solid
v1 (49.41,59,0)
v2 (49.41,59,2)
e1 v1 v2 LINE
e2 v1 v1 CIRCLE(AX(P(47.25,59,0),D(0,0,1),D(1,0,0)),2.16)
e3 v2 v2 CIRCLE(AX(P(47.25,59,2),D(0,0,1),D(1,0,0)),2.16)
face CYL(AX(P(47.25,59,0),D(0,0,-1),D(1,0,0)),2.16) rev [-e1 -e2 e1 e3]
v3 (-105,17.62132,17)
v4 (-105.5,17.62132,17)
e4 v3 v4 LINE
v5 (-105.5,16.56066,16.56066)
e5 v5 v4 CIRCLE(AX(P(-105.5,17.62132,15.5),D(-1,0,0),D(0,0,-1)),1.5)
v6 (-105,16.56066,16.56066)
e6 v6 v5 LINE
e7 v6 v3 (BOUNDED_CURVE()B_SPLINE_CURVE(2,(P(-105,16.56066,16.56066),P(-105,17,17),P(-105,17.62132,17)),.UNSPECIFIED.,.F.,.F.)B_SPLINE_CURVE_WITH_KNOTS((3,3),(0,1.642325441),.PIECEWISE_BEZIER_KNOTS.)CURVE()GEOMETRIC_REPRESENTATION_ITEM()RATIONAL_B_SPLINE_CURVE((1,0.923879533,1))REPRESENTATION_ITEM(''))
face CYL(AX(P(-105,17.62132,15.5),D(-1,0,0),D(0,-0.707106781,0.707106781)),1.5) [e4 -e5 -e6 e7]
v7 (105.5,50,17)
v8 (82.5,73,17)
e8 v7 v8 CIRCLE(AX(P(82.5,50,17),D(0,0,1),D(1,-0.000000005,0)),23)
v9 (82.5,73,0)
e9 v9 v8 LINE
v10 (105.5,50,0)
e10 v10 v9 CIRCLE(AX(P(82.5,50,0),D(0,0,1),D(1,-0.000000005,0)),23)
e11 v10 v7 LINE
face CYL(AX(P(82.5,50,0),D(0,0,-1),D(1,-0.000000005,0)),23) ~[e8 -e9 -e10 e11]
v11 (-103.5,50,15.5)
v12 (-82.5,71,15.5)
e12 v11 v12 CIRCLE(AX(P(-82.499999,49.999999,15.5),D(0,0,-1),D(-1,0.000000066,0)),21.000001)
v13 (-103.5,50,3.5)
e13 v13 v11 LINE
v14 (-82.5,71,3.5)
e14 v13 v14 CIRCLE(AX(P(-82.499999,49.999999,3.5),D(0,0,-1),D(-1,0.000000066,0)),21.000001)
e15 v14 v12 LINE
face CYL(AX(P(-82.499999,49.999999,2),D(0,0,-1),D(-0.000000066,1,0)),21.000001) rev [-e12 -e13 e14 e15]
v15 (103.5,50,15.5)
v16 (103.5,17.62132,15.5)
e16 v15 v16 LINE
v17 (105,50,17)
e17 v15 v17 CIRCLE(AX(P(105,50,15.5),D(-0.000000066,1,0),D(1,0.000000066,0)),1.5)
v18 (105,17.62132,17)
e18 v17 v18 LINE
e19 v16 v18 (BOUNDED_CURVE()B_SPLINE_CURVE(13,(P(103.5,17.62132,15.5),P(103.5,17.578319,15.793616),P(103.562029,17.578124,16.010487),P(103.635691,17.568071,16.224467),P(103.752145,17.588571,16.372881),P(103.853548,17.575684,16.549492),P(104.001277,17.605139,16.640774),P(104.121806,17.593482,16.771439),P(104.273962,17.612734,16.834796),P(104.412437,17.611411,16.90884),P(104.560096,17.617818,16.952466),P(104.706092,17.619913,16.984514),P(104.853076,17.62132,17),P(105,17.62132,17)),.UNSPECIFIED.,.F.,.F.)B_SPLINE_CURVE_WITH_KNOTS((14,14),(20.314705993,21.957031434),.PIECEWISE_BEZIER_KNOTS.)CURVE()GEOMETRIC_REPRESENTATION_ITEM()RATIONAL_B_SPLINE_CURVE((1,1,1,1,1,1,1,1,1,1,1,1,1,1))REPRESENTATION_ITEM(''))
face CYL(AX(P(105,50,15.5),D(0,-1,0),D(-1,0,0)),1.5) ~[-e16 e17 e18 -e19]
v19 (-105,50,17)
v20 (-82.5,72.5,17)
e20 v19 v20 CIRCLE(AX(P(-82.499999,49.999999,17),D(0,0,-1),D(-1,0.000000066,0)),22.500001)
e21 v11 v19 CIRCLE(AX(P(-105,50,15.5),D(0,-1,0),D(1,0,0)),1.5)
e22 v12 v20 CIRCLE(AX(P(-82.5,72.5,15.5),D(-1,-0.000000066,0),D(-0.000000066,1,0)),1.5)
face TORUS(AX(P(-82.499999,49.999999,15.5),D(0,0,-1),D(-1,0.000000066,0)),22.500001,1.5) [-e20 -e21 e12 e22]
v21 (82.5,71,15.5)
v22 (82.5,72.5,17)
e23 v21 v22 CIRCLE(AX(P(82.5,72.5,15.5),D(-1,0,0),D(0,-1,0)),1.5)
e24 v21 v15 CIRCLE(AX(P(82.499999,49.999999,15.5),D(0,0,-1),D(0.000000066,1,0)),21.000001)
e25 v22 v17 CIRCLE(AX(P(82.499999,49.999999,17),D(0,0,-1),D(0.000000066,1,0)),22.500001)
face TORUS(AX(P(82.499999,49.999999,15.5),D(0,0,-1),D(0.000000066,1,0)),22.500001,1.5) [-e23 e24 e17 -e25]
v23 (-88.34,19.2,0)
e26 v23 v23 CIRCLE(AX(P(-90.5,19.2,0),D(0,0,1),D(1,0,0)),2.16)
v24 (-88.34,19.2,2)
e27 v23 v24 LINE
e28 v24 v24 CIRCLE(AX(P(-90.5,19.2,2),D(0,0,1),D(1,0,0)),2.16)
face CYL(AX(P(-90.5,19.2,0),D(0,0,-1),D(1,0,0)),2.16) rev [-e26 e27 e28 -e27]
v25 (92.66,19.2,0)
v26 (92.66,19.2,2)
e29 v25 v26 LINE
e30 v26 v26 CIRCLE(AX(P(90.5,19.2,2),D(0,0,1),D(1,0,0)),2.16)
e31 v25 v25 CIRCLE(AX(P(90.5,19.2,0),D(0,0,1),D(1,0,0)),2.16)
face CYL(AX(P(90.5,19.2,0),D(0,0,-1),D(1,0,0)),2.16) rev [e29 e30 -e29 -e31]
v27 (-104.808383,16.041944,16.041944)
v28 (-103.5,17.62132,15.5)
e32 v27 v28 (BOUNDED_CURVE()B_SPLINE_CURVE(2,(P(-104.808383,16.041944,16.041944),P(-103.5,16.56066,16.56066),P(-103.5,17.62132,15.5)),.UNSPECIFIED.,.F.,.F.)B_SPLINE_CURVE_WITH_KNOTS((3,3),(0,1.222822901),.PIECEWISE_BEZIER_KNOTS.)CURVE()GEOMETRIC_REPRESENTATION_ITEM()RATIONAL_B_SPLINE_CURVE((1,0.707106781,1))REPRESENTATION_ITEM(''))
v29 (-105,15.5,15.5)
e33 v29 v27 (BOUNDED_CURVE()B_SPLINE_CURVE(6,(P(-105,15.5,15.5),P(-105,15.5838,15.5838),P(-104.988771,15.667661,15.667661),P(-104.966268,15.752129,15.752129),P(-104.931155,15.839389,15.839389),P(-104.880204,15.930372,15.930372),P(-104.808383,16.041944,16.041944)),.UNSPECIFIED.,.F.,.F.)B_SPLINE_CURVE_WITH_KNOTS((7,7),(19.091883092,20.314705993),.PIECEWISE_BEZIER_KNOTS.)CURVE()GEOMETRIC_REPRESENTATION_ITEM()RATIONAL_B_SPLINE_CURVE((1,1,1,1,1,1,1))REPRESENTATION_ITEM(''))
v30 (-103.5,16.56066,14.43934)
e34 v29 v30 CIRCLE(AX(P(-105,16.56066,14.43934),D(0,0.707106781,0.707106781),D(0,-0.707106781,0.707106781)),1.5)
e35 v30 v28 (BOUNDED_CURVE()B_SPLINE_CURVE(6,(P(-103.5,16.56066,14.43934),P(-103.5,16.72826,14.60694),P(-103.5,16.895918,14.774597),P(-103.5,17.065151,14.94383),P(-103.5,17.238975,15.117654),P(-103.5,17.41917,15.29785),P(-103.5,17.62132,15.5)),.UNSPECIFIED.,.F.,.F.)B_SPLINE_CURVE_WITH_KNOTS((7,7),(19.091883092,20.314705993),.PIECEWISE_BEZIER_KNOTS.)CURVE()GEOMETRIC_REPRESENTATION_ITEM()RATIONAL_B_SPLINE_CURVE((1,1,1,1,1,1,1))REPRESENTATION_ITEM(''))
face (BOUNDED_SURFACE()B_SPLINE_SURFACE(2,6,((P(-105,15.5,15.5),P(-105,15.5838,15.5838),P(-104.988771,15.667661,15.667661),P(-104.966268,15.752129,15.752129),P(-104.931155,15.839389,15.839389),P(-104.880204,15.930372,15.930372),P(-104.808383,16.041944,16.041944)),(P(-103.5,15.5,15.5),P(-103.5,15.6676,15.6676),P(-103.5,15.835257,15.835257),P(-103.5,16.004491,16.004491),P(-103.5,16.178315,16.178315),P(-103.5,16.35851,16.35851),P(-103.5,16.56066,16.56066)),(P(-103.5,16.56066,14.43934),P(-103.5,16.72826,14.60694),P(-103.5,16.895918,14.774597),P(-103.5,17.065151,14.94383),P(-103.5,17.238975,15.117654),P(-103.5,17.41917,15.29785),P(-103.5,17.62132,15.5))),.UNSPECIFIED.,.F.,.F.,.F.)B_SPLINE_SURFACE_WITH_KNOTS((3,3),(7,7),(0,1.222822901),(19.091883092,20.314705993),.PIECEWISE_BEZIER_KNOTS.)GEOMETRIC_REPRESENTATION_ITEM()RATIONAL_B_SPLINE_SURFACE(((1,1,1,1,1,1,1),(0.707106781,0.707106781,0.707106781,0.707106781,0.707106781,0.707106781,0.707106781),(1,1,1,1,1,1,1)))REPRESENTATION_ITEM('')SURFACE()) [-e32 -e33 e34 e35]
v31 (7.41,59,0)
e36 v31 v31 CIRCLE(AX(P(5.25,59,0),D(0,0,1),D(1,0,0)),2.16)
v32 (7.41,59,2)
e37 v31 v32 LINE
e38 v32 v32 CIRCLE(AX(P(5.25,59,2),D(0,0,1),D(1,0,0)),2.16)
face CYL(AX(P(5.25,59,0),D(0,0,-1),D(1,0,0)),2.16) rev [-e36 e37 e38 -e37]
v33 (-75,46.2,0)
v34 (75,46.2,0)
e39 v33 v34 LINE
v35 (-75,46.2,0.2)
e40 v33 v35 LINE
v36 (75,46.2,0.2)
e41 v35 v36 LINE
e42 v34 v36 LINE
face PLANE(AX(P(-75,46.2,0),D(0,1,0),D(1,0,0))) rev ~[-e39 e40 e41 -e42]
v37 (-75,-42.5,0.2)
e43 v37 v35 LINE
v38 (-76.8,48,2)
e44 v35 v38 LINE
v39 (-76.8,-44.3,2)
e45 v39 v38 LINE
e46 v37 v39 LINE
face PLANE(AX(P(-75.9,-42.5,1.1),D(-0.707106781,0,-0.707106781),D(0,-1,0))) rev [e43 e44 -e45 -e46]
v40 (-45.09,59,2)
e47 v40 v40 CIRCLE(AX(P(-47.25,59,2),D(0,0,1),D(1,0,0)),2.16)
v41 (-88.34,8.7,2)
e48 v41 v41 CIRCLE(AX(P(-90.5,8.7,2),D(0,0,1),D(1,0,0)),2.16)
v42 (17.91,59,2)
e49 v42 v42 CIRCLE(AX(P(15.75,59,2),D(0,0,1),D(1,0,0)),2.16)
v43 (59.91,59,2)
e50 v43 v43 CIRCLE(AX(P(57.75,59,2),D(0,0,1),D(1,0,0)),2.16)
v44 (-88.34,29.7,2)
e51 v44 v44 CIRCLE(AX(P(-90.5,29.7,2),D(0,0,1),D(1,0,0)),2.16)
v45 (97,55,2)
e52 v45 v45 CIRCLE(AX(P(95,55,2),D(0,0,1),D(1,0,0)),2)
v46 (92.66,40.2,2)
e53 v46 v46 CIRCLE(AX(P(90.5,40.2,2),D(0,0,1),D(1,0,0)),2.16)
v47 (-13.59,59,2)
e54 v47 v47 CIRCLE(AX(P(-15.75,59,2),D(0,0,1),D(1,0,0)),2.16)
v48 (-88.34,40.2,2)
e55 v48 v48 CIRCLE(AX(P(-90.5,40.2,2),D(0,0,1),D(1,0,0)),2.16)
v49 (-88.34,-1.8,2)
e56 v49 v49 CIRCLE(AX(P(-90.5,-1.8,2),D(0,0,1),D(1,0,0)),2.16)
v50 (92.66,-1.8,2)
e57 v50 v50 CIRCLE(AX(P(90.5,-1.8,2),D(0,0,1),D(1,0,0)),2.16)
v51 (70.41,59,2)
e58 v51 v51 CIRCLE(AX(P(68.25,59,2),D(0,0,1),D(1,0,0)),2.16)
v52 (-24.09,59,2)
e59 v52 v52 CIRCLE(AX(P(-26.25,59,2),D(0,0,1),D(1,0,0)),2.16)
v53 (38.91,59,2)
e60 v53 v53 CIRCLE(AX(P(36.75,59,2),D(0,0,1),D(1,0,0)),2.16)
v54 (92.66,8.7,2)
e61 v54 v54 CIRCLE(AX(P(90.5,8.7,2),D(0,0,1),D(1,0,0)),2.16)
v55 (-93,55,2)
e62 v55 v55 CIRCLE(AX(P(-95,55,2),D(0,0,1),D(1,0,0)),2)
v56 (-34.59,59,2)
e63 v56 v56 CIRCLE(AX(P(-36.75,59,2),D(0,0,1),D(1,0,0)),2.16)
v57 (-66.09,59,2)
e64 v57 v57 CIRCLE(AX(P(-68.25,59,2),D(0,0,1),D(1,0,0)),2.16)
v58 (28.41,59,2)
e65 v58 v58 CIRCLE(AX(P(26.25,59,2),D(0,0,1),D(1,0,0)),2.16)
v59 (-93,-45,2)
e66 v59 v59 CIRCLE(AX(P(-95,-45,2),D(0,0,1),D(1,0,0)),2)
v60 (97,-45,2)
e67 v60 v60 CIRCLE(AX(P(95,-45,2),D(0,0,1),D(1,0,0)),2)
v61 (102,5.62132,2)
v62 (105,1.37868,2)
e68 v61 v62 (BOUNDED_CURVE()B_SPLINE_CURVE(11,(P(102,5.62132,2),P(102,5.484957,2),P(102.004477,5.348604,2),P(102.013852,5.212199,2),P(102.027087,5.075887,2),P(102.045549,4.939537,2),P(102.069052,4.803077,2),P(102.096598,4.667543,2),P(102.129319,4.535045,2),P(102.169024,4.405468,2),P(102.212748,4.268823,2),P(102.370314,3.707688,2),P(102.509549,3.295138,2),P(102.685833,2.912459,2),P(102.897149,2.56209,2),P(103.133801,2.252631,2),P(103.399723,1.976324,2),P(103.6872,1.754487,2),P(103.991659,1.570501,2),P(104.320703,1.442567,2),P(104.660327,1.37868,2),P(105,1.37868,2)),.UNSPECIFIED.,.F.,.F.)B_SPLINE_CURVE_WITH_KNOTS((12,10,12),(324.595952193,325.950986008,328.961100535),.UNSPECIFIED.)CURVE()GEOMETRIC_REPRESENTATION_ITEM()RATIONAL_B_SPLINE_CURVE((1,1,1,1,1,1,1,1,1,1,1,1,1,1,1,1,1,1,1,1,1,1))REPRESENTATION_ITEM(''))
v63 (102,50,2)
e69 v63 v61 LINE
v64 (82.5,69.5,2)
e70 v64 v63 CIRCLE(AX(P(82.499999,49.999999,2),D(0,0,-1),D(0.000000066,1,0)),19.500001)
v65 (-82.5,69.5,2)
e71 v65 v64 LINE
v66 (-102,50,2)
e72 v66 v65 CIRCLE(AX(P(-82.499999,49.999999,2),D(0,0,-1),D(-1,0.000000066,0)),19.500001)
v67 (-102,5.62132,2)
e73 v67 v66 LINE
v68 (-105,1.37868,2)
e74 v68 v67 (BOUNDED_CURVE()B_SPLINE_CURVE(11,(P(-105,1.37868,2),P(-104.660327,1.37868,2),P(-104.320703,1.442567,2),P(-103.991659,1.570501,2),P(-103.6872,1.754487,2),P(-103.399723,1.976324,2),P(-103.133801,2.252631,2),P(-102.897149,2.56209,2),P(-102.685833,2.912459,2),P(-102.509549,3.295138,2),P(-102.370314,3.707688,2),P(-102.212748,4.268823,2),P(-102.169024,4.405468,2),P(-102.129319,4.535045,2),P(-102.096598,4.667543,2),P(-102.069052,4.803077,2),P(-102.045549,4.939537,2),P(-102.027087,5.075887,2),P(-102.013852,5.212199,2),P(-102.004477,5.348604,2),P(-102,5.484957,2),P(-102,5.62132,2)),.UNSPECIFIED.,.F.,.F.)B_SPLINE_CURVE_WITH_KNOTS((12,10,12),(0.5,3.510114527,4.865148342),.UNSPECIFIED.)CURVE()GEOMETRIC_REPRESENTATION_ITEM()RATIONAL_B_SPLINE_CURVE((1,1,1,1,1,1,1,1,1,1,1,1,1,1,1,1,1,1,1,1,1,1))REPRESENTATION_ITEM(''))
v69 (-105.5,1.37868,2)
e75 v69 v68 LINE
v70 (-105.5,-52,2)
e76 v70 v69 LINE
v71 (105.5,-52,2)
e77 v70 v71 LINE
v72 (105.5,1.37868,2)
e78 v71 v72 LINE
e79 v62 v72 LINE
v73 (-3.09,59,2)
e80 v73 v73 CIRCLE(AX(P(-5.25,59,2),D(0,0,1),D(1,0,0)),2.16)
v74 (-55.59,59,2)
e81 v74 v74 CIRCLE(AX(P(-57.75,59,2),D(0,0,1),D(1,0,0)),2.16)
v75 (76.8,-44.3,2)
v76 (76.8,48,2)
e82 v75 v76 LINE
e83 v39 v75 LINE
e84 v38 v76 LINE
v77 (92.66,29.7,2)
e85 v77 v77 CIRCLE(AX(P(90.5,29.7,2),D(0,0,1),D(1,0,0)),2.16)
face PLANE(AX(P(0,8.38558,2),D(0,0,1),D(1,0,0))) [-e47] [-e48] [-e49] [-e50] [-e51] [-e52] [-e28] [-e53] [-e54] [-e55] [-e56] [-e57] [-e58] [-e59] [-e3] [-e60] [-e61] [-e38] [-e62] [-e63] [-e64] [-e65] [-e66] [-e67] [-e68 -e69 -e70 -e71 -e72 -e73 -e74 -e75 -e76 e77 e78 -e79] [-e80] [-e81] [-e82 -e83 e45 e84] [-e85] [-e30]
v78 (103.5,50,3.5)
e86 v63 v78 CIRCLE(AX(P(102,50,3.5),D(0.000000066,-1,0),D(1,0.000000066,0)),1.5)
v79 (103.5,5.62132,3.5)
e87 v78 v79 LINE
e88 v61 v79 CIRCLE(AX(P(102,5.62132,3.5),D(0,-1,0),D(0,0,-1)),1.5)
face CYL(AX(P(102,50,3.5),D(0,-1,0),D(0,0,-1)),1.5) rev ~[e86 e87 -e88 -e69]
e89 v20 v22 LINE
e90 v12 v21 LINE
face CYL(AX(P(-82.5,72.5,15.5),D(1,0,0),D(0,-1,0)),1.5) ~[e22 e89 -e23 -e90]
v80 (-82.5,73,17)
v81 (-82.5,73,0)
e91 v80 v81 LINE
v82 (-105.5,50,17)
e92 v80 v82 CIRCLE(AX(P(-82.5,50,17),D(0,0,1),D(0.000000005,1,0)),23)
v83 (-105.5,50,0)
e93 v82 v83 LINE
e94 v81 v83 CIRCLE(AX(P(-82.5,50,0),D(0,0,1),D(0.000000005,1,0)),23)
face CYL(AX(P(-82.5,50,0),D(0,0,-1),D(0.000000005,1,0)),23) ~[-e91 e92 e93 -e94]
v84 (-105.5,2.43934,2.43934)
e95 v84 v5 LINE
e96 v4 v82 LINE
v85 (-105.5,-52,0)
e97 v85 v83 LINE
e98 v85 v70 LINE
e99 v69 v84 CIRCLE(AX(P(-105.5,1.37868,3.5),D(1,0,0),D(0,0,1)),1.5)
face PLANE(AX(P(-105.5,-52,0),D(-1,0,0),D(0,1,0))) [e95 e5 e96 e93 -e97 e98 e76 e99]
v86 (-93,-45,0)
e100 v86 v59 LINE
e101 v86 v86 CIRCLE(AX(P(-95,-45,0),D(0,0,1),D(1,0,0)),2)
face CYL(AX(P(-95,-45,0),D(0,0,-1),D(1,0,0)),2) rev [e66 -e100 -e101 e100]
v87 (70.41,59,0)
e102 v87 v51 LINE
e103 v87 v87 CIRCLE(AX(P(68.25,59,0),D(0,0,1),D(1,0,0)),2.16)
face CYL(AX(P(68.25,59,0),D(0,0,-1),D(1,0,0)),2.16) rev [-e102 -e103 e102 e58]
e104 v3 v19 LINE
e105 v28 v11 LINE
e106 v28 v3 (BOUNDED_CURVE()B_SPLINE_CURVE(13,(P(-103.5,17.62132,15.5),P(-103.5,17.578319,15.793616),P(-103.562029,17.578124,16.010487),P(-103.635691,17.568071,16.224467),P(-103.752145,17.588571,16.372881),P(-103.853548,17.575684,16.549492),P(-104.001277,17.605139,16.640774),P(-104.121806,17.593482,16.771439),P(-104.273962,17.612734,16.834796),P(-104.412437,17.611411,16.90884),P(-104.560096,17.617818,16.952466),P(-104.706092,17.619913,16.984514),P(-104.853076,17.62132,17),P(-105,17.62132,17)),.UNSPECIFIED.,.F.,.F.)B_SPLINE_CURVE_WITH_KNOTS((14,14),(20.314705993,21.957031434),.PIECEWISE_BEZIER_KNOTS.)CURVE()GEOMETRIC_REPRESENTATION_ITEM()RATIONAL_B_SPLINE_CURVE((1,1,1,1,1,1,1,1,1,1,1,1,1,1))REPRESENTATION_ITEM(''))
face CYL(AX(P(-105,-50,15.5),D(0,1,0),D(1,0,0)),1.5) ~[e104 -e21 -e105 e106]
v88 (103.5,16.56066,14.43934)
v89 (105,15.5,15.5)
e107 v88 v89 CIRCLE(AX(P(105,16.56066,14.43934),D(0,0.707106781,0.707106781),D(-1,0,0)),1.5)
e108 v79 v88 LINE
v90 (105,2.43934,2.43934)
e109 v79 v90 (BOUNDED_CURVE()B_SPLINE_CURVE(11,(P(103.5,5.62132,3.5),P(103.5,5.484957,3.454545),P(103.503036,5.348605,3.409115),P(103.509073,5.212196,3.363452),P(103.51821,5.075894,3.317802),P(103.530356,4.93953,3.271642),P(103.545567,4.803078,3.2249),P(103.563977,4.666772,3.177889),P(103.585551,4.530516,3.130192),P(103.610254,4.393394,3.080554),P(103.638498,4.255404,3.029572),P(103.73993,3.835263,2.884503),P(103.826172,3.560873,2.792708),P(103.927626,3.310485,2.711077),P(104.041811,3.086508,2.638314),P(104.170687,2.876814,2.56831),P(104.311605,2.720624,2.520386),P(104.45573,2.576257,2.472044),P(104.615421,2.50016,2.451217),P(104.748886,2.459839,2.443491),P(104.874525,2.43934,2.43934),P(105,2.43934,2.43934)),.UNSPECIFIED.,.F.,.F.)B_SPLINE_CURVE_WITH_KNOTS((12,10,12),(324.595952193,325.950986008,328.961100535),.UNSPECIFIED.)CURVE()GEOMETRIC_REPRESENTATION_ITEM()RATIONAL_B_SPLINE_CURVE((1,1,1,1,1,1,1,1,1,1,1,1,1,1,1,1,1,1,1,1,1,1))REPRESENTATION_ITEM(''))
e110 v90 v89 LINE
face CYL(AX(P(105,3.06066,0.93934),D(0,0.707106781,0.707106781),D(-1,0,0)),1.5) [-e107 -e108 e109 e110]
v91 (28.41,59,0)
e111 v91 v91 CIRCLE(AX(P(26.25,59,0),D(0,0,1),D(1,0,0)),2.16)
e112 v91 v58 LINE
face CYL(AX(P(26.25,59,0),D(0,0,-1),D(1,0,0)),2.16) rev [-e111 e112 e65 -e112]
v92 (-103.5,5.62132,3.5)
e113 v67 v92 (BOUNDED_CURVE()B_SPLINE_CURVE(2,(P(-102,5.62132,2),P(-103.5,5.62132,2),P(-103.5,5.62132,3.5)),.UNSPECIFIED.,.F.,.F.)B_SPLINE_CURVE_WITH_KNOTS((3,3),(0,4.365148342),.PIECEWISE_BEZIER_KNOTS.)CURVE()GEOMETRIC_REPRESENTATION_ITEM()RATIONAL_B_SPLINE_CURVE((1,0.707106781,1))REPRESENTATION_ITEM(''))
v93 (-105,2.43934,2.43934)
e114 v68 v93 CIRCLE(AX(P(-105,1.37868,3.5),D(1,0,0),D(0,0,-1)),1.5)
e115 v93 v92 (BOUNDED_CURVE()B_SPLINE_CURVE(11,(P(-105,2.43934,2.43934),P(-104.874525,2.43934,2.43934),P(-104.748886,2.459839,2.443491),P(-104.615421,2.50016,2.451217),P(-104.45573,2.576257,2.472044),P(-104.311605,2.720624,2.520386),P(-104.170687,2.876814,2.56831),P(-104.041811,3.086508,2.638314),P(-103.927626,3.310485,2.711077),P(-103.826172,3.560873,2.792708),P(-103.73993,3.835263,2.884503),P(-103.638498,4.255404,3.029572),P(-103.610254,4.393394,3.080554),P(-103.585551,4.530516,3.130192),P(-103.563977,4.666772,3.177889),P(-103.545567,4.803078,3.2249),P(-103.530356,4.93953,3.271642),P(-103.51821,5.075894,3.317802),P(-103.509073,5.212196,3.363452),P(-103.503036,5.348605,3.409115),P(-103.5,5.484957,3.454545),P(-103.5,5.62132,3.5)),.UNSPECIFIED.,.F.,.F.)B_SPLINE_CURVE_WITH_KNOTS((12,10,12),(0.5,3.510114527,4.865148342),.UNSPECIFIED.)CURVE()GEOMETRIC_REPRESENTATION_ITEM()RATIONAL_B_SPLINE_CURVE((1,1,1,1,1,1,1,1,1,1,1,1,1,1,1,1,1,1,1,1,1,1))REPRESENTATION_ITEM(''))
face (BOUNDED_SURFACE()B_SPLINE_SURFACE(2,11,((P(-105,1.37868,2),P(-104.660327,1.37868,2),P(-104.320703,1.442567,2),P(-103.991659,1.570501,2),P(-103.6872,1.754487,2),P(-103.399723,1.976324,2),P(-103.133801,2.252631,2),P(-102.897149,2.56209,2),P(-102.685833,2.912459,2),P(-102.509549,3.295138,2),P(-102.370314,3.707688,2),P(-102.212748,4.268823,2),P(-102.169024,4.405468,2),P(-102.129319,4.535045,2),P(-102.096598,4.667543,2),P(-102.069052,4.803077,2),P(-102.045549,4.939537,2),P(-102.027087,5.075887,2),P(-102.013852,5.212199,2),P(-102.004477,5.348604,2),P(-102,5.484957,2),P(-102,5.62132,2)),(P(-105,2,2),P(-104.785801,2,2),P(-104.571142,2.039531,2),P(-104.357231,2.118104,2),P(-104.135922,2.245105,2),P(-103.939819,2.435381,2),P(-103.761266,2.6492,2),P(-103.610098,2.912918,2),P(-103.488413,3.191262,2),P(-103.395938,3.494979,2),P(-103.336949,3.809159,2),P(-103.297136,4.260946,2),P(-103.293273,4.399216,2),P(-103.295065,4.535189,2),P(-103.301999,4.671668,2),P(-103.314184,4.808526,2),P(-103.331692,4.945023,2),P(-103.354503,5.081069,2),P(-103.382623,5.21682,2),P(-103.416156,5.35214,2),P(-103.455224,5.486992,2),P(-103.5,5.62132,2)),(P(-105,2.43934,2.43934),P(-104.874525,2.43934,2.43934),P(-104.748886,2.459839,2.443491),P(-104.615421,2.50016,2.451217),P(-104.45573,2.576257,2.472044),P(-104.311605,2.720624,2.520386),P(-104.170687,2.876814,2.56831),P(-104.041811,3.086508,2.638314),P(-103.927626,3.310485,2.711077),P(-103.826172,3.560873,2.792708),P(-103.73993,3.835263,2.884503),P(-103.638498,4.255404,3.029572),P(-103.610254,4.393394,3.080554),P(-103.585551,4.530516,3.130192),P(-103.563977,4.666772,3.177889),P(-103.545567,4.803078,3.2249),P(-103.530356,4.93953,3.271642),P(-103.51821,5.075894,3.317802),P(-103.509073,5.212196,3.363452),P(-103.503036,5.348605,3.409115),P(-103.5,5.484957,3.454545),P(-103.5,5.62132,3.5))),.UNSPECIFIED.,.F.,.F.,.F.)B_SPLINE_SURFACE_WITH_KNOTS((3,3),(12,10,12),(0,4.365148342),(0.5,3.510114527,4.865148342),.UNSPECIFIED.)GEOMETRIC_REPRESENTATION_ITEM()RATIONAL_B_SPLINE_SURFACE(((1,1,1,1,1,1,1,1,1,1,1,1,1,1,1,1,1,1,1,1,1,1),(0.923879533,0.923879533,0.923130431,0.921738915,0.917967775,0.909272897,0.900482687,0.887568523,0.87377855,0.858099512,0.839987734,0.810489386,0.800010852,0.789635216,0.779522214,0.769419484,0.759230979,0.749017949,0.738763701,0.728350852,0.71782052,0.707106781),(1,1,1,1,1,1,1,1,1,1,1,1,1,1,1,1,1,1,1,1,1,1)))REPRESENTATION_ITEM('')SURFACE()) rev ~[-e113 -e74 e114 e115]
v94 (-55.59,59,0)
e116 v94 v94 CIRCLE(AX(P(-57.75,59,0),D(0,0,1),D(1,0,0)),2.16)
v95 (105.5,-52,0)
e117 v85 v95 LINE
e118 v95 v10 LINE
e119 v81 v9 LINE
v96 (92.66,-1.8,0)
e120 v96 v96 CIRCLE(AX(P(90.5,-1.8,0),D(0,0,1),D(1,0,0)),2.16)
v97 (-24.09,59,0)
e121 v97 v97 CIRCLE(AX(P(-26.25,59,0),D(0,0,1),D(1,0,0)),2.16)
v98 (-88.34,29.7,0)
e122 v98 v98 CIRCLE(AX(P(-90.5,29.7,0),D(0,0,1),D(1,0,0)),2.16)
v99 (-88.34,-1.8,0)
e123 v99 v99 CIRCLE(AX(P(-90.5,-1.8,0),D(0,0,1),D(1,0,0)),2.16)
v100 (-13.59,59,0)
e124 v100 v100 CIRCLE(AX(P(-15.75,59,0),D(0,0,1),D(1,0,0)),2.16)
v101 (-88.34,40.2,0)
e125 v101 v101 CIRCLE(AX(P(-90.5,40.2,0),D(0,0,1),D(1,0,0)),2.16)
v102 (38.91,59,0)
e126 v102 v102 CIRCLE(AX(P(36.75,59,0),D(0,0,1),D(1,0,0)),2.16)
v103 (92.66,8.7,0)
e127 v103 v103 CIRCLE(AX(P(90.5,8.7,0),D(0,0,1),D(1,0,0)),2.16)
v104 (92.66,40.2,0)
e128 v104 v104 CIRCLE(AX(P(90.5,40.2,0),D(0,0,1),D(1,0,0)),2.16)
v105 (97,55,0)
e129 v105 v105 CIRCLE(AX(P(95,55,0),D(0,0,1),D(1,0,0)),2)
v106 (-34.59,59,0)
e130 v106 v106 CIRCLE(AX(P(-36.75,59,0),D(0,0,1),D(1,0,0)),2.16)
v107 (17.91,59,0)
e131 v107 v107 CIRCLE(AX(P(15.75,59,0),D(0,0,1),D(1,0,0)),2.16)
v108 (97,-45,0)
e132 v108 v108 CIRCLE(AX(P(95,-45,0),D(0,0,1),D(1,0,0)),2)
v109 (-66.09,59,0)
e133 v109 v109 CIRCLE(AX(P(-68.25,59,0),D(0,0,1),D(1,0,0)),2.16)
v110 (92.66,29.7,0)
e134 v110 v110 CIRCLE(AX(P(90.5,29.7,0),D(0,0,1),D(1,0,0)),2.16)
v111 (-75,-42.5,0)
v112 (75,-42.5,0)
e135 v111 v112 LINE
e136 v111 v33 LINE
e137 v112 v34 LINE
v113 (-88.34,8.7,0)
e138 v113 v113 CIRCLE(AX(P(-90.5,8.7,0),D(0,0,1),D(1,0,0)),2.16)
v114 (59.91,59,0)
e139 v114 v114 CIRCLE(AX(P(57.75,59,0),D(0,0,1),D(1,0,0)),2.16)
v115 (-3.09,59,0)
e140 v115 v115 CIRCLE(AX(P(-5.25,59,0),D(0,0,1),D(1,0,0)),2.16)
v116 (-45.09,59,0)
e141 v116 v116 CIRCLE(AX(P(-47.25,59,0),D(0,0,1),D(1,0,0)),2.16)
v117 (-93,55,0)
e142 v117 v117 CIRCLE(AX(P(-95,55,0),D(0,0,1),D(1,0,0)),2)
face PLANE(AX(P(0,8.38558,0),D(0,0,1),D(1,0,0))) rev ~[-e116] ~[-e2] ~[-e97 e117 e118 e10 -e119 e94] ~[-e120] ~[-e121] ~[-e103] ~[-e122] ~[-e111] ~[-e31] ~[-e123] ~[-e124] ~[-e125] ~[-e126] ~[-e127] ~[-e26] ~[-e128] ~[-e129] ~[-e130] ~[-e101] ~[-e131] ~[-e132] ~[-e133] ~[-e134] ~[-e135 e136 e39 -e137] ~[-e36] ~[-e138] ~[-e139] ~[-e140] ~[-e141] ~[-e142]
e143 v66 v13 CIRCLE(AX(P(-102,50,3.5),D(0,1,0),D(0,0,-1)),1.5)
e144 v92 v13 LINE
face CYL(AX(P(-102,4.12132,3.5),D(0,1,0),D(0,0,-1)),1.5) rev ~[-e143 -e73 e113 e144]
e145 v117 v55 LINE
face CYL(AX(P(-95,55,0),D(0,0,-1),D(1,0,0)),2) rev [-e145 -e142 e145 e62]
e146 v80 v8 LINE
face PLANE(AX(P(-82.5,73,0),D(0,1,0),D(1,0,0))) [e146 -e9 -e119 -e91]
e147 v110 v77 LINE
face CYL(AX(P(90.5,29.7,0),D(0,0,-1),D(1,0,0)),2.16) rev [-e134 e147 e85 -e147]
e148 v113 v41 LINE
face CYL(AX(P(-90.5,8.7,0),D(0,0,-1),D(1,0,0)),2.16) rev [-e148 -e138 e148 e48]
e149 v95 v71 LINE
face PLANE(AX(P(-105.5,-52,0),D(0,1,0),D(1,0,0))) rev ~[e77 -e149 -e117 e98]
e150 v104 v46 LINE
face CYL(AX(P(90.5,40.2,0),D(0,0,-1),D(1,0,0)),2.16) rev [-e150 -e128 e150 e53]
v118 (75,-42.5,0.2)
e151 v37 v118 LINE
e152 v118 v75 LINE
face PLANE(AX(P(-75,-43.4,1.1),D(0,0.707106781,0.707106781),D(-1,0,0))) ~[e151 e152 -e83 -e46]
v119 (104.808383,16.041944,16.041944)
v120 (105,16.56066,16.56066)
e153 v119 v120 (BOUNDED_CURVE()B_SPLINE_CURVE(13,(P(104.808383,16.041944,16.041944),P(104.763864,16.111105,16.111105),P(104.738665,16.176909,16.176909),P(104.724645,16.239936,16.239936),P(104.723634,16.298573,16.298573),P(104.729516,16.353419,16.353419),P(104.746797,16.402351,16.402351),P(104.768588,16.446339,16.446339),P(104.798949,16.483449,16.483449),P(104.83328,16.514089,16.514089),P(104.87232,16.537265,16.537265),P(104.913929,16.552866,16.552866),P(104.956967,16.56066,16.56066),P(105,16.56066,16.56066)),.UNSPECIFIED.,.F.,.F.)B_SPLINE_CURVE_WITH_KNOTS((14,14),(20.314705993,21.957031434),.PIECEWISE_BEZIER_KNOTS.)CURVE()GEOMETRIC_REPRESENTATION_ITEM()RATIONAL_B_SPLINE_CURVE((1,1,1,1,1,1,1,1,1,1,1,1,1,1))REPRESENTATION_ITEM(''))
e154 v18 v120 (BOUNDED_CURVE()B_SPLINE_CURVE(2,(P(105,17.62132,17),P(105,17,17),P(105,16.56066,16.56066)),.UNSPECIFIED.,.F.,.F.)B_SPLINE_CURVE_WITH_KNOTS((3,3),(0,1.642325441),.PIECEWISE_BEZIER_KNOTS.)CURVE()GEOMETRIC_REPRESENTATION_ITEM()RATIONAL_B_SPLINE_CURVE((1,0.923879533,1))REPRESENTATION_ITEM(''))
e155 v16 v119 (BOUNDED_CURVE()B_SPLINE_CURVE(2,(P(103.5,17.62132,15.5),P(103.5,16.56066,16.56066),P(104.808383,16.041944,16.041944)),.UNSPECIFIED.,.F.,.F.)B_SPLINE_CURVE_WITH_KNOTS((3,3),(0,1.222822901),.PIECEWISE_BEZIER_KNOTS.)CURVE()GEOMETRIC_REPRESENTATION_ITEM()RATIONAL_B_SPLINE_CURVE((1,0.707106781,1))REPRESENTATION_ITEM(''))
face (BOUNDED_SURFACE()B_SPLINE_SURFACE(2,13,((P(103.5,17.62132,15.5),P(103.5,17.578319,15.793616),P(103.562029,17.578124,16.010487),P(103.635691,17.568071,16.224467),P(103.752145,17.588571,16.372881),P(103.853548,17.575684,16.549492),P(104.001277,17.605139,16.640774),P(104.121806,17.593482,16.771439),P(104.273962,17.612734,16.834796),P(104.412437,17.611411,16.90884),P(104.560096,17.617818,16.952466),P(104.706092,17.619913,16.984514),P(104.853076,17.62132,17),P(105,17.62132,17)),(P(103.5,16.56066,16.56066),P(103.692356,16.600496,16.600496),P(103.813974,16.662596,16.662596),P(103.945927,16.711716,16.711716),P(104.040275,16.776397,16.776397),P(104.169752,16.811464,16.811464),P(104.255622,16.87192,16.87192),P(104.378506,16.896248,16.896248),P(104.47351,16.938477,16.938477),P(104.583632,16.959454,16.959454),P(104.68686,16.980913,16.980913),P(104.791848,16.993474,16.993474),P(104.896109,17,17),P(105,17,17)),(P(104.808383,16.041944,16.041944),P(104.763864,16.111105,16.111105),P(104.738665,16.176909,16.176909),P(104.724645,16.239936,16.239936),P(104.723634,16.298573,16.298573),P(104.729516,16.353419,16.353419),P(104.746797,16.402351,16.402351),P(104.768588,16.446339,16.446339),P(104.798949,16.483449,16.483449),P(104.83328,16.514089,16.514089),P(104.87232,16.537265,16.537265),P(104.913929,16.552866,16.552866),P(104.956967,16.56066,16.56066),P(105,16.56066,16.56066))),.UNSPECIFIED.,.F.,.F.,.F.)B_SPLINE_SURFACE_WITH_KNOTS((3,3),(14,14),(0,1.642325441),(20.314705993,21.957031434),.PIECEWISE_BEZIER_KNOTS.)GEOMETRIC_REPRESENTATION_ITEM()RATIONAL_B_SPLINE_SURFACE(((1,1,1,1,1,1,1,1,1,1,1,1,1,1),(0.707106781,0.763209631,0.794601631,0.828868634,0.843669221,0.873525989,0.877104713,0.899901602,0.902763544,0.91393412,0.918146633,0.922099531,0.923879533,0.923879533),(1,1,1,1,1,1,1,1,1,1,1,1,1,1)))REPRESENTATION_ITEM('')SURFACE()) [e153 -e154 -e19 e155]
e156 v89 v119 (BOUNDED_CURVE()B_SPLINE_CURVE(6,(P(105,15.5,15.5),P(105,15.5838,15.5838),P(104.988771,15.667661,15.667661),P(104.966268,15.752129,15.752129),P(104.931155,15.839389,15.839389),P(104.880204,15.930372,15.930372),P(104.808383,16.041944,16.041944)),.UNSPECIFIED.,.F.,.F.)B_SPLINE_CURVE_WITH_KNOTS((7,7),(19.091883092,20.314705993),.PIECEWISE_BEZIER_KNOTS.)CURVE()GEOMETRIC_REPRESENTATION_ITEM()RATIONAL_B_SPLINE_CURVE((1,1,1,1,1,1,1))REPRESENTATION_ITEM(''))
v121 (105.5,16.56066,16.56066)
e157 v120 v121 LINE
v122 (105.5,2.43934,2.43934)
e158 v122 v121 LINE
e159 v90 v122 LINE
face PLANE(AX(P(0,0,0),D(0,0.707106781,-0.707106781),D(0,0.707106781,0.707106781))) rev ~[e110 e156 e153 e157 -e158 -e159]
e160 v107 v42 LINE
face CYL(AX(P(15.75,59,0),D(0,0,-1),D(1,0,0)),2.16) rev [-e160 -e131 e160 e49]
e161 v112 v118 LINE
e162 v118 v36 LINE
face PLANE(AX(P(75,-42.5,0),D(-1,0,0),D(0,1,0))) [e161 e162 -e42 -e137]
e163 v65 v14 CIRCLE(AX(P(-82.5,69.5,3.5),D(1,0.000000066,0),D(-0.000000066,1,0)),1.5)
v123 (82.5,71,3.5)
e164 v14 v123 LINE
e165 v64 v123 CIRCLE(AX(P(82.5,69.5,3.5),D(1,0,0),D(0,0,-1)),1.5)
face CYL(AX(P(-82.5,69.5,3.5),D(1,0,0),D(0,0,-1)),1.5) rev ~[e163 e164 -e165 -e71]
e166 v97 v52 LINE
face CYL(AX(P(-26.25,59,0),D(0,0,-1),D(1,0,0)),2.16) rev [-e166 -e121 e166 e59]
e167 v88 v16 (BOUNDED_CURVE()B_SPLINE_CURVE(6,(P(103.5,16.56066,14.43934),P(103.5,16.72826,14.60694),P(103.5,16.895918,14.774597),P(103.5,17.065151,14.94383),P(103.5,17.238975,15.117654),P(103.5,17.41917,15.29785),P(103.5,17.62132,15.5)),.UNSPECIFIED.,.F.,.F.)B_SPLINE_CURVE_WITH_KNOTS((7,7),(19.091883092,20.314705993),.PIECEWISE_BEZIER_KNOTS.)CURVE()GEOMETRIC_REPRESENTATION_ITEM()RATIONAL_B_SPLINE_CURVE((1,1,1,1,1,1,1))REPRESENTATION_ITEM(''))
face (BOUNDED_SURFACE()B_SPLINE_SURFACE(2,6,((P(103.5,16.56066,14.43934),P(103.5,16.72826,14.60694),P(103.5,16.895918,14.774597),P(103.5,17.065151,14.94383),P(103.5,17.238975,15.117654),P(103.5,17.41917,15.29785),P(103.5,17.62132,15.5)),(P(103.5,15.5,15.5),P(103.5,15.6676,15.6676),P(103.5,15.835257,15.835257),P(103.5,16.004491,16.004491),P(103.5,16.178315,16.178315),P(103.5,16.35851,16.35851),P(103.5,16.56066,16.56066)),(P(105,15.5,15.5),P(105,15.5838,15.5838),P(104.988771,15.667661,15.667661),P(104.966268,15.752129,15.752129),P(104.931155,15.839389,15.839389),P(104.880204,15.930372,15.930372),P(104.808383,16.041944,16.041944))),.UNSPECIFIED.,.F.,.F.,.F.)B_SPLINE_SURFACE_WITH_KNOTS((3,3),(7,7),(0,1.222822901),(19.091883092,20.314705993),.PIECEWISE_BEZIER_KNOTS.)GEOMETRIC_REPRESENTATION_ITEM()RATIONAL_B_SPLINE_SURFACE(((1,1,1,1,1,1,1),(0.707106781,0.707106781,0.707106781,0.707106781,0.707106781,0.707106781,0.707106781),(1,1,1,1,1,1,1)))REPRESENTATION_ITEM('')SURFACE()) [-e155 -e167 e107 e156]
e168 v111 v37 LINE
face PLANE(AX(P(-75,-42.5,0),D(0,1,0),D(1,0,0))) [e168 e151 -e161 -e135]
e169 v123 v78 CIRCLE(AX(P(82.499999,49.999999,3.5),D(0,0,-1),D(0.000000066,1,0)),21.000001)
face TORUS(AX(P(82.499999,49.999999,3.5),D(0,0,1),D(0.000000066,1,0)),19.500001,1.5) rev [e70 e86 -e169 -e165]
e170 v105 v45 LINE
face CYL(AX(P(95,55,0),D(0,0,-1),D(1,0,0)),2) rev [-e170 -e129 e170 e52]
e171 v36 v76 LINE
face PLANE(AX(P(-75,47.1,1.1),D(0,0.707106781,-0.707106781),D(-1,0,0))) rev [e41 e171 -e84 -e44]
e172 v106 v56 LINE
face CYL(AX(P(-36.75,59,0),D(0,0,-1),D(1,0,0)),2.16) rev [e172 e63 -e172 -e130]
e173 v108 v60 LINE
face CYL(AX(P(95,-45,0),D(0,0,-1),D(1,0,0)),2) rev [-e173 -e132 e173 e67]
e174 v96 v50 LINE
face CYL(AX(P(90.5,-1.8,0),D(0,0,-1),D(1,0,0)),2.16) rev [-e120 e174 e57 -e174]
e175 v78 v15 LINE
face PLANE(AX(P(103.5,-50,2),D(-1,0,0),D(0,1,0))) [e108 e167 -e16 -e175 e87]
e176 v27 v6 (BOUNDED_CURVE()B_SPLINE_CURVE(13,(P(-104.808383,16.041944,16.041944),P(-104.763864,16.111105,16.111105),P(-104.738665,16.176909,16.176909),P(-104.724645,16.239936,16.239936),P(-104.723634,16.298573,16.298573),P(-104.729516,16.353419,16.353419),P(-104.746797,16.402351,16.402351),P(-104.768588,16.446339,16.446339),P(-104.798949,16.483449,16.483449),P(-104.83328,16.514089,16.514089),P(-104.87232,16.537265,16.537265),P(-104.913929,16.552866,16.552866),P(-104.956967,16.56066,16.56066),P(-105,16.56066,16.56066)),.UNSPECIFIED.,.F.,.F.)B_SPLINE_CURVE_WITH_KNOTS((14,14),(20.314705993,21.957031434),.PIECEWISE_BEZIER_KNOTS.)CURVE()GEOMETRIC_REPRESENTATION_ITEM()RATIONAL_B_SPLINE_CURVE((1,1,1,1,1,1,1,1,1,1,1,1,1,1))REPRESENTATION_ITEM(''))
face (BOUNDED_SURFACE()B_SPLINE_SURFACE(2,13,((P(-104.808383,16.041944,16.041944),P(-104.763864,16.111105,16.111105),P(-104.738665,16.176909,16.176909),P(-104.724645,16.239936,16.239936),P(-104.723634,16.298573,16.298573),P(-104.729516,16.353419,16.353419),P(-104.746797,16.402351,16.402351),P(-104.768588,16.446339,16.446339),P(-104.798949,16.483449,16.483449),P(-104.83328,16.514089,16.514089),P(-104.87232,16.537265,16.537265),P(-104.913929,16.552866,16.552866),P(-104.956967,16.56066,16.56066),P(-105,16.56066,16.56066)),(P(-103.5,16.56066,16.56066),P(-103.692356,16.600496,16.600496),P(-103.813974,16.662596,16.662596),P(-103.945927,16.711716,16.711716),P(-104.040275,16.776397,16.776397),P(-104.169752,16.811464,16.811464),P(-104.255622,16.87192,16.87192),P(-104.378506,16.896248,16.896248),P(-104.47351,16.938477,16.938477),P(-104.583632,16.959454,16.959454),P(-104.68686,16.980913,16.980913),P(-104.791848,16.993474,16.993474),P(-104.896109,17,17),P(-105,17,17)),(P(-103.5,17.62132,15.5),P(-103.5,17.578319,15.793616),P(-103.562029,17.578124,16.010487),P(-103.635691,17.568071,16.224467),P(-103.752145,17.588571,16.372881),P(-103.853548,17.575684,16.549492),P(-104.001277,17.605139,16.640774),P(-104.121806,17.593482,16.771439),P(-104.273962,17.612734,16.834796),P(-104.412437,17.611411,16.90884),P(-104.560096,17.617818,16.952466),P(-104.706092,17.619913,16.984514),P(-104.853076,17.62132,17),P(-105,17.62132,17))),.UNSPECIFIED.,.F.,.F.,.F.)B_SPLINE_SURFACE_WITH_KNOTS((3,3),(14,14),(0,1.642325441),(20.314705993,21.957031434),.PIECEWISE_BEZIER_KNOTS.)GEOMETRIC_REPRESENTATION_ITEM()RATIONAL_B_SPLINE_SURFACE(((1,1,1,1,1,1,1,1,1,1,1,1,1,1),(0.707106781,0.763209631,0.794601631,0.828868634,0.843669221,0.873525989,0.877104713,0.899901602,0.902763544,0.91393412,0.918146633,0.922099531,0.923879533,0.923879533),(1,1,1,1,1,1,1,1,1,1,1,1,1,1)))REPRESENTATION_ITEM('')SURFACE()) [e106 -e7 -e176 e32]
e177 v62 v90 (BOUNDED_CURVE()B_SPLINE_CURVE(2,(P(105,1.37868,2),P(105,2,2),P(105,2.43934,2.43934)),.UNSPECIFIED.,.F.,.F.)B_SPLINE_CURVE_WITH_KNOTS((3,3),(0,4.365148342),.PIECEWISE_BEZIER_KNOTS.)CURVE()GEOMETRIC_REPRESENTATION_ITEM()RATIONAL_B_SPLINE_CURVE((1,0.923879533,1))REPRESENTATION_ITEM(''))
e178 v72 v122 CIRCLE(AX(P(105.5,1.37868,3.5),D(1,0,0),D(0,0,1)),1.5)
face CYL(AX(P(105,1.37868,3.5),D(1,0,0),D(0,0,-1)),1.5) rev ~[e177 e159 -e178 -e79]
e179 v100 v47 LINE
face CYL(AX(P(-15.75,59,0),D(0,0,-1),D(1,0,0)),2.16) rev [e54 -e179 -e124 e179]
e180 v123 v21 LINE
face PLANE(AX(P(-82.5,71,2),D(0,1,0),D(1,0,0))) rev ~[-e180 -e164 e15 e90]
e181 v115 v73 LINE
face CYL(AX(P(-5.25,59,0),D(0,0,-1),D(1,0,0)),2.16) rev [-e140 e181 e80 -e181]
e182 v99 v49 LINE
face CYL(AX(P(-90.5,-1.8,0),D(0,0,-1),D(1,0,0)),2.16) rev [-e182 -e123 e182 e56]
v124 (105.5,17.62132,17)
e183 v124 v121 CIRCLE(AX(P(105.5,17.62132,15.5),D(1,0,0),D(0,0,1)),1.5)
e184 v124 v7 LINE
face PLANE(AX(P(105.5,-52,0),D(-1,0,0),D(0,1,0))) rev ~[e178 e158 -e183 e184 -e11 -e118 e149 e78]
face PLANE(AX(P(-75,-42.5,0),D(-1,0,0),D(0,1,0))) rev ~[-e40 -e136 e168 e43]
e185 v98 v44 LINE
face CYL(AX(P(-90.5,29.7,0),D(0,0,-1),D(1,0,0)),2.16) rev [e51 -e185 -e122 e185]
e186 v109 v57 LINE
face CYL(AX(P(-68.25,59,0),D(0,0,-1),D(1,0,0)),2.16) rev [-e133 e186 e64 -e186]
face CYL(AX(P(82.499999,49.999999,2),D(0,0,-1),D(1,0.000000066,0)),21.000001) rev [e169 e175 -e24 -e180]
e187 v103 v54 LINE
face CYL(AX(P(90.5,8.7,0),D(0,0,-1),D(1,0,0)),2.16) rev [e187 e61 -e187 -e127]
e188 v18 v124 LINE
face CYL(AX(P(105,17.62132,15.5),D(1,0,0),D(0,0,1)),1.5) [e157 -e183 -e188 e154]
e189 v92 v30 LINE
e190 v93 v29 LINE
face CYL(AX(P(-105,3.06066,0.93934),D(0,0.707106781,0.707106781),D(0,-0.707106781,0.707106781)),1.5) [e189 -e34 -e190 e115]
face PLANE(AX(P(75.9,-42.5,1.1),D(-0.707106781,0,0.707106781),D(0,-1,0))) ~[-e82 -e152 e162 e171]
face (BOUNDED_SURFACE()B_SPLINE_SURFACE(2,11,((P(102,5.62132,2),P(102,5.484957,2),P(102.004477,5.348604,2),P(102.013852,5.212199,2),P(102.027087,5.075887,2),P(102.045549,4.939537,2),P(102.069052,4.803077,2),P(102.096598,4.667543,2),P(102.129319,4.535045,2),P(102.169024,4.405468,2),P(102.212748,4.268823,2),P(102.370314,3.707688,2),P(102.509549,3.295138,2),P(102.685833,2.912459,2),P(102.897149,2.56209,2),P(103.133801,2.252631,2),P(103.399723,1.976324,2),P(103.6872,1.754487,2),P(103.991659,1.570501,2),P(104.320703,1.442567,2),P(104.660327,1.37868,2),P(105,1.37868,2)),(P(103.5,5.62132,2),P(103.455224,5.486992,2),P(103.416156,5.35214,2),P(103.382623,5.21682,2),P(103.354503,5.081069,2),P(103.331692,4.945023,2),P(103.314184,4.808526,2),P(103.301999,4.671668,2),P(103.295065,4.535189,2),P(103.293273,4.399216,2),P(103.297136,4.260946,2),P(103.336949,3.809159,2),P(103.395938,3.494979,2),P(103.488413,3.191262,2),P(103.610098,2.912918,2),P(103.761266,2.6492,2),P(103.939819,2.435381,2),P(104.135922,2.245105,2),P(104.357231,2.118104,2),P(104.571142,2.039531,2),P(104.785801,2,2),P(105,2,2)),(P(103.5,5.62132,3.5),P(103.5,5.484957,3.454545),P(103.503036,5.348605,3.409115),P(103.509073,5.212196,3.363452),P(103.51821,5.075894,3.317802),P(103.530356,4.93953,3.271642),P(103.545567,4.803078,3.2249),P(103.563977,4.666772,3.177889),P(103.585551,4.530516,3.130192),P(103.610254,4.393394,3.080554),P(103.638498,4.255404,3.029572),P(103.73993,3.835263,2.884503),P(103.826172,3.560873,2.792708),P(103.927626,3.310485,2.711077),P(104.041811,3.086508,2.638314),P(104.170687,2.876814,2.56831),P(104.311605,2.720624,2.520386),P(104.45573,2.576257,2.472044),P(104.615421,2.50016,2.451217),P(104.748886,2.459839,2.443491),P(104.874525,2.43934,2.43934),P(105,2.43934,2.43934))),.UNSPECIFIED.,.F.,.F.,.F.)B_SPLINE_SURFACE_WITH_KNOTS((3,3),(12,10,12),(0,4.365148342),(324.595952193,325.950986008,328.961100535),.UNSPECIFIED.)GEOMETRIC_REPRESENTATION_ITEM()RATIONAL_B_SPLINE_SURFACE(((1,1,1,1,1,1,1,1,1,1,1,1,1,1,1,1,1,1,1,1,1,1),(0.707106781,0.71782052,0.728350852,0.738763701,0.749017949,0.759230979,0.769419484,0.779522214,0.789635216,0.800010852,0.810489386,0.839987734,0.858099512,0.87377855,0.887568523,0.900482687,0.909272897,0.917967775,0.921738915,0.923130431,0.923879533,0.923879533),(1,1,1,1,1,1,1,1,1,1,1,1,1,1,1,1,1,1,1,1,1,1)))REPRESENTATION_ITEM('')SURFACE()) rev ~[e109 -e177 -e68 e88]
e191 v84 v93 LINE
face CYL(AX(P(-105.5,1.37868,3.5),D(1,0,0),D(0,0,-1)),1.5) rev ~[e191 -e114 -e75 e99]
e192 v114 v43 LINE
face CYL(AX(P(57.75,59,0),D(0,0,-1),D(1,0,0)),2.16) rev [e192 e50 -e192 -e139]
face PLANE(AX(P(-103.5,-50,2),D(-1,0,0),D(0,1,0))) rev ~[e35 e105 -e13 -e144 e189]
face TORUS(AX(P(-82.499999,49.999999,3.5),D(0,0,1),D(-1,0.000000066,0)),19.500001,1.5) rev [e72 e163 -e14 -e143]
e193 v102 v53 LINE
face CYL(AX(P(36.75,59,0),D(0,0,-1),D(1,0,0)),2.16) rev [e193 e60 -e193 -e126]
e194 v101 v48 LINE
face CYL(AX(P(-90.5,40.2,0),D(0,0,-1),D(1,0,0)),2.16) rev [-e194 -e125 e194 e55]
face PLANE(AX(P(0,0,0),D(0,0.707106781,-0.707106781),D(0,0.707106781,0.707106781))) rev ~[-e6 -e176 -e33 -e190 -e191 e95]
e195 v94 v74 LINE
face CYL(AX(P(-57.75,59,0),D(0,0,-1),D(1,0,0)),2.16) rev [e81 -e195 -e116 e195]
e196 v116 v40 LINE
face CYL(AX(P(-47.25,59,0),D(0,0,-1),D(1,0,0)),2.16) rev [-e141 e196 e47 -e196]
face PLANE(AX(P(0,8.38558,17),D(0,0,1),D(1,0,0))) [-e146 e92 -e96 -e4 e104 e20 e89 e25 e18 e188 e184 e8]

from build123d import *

# Parameters (mm, degrees)
PAD001_DEPTH      = 15
FILLET_R          = 1.5
SKETCH002_R       = 2.16
SKETCH002_R_2     = 2
SKETCH002_W       = 150
SKETCH002_H       = 88.7
PAD_DEPTH         = 2
CHAMFER_SIZE      = 1.8
PAD002_DEPTH      = 150
PAD002_DEPTH_BACK = 150
FILLET001_R       = 1.5
FILLET002_R       = 1.5
FILLET003_R       = 1.5


with BuildPart() as hat:
    # Sketch003 → Pad001 (new body)
    with BuildSketch(Plane.XY):
        with BuildLine():
            Line((-105.5, -52), (105.5, -52))
            Line((105.5, -52), (105.5, 50))
            ThreePointArc((105.5, 50), (98.763456, 66.263456), (82.5, 73))
            Line((-82.5, 73), (82.5, 73))
            ThreePointArc((-82.5, 73), (-98.763456, 66.263456), (-105.5, 50))
            Line((-105.5, -52), (-105.5, 50))
        make_face()
        with BuildLine():
            Line((-103.5, -50), (103.5, -50))
            Line((103.5, -50), (103.5, 50))
            ThreePointArc((103.5, 50), (97.349242, 64.849242), (82.5, 71))
            Line((-82.5, 71), (82.5, 71))
            ThreePointArc((-82.5, 71), (-97.349242, 64.849242), (-103.5, 50))
            Line((-103.5, -50), (-103.5, 50))
        make_face(mode=Mode.SUBTRACT)
    extrude(amount=PAD001_DEPTH)

    # Fillet
    fillet_edges = [hat.edges().sort_by_distance(p)[0] for p in [
        (0, 71, 15),
    ]]
    fillet(fillet_edges, radius=FILLET_R)


with BuildPart() as hat_1:
    # Body001 placement: moved
    add(hat.part.moved(Location((0, 0, 2))))


with BuildPart() as front:
    # Sketch002 → Pad (new body)
    with BuildSketch(Plane.XY):
        with BuildLine():
            Line((-105.5, -52), (105.5, -52))
            Line((105.5, -52), (105.5, 50))
            ThreePointArc((105.5, 50), (98.763456, 66.263456), (82.5, 73))
            Line((-82.5, 73), (82.5, 73))
            ThreePointArc((-82.5, 73), (-98.763456, 66.263456), (-105.5, 50))
            Line((-105.5, -52), (-105.5, 50))
        make_face()
        with Locations((-90.5, 40.2)):
            Circle(SKETCH002_R, mode=Mode.SUBTRACT)
        with Locations((90.5, 40.2)):
            Circle(SKETCH002_R, mode=Mode.SUBTRACT)
        with Locations((-68.25, 59)):
            Circle(SKETCH002_R, mode=Mode.SUBTRACT)
        with Locations((-57.75, 59)):
            Circle(SKETCH002_R, mode=Mode.SUBTRACT)
        with Locations((-47.25, 59)):
            Circle(SKETCH002_R, mode=Mode.SUBTRACT)
        with Locations((-36.75, 59)):
            Circle(SKETCH002_R, mode=Mode.SUBTRACT)
        with Locations((-26.25, 59)):
            Circle(SKETCH002_R, mode=Mode.SUBTRACT)
        with Locations((-15.75, 59)):
            Circle(SKETCH002_R, mode=Mode.SUBTRACT)
        with Locations((-5.25, 59)):
            Circle(SKETCH002_R, mode=Mode.SUBTRACT)
        with Locations((5.25, 59)):
            Circle(SKETCH002_R, mode=Mode.SUBTRACT)
        with Locations((15.75, 59)):
            Circle(SKETCH002_R, mode=Mode.SUBTRACT)
        with Locations((26.25, 59)):
            Circle(SKETCH002_R, mode=Mode.SUBTRACT)
        with Locations((36.75, 59)):
            Circle(SKETCH002_R, mode=Mode.SUBTRACT)
        with Locations((47.25, 59)):
            Circle(SKETCH002_R, mode=Mode.SUBTRACT)
        with Locations((57.75, 59)):
            Circle(SKETCH002_R, mode=Mode.SUBTRACT)
        with Locations((68.25, 59)):
            Circle(SKETCH002_R, mode=Mode.SUBTRACT)
        with Locations((-90.5, 29.7)):
            Circle(SKETCH002_R, mode=Mode.SUBTRACT)
        with Locations((-90.5, 19.2)):
            Circle(SKETCH002_R, mode=Mode.SUBTRACT)
        with Locations((-90.5, 8.7)):
            Circle(SKETCH002_R, mode=Mode.SUBTRACT)
        with Locations((-90.5, -1.8)):
            Circle(SKETCH002_R, mode=Mode.SUBTRACT)
        with Locations((90.5, 29.7)):
            Circle(SKETCH002_R, mode=Mode.SUBTRACT)
        with Locations((90.5, 19.2)):
            Circle(SKETCH002_R, mode=Mode.SUBTRACT)
        with Locations((90.5, 8.7)):
            Circle(SKETCH002_R, mode=Mode.SUBTRACT)
        with Locations((90.5, -1.8)):
            Circle(SKETCH002_R, mode=Mode.SUBTRACT)
        with Locations((-95, -45)):
            Circle(SKETCH002_R_2, mode=Mode.SUBTRACT)
        with Locations((95, -45)):
            Circle(SKETCH002_R_2, mode=Mode.SUBTRACT)
        with Locations((95, 55)):
            Circle(SKETCH002_R_2, mode=Mode.SUBTRACT)
        with Locations((-95, 55)):
            Circle(SKETCH002_R_2, mode=Mode.SUBTRACT)
        with Locations((0, 1.85)):
            Rectangle(SKETCH002_W, SKETCH002_H, mode=Mode.SUBTRACT)
    extrude(amount=PAD_DEPTH)

    # Chamfer
    chamfer_edges = [front.edges().sort_by_distance(p)[0] for p in [
        (0, 46.2, 2),
        (-75, 1.85, 2),
        (75, 1.85, 2),
        (0, -42.5, 2),
    ]]
    chamfer(chamfer_edges, length=CHAMFER_SIZE)


with BuildPart() as top:
    # Sketch004 → Pad002 (new body, two sides)
    with BuildSketch(Plane.YZ) as pad002_sk:
        Polygon((0, 0), (28.284271, 28.284271), (88.284271, 28.284271), (88.284271, 0), align=None)
    extrude(amount=PAD002_DEPTH)
    extrude(pad002_sk.sketch, amount=-PAD002_DEPTH_BACK)

    # Boolean: intersect HAT
    add(hat_1.part, mode=Mode.INTERSECT)

    # Fillet001
    fillet001_edges = [top.edges().sort_by_distance(p)[0] for p in [
        (-103.5, 8.75, 8.75),
    ]]
    fillet(fillet001_edges, radius=FILLET001_R)

    # Fillet002
    fillet002_edges = [top.edges().sort_by_distance(p)[0] for p in [
        (103.5, 8.75, 8.75),
    ]]
    fillet(fillet002_edges, radius=FILLET002_R)

    # Boolean001: union FRONT
    add(front.part)

    # Fillet003
    fillet003_edges = [top.edges().sort_by_distance(p)[0] for p in [
        (-103.5, 27.06066, 2),
    ]]
    fillet(fillet003_edges, radius=FILLET003_R)


solid = top.part
